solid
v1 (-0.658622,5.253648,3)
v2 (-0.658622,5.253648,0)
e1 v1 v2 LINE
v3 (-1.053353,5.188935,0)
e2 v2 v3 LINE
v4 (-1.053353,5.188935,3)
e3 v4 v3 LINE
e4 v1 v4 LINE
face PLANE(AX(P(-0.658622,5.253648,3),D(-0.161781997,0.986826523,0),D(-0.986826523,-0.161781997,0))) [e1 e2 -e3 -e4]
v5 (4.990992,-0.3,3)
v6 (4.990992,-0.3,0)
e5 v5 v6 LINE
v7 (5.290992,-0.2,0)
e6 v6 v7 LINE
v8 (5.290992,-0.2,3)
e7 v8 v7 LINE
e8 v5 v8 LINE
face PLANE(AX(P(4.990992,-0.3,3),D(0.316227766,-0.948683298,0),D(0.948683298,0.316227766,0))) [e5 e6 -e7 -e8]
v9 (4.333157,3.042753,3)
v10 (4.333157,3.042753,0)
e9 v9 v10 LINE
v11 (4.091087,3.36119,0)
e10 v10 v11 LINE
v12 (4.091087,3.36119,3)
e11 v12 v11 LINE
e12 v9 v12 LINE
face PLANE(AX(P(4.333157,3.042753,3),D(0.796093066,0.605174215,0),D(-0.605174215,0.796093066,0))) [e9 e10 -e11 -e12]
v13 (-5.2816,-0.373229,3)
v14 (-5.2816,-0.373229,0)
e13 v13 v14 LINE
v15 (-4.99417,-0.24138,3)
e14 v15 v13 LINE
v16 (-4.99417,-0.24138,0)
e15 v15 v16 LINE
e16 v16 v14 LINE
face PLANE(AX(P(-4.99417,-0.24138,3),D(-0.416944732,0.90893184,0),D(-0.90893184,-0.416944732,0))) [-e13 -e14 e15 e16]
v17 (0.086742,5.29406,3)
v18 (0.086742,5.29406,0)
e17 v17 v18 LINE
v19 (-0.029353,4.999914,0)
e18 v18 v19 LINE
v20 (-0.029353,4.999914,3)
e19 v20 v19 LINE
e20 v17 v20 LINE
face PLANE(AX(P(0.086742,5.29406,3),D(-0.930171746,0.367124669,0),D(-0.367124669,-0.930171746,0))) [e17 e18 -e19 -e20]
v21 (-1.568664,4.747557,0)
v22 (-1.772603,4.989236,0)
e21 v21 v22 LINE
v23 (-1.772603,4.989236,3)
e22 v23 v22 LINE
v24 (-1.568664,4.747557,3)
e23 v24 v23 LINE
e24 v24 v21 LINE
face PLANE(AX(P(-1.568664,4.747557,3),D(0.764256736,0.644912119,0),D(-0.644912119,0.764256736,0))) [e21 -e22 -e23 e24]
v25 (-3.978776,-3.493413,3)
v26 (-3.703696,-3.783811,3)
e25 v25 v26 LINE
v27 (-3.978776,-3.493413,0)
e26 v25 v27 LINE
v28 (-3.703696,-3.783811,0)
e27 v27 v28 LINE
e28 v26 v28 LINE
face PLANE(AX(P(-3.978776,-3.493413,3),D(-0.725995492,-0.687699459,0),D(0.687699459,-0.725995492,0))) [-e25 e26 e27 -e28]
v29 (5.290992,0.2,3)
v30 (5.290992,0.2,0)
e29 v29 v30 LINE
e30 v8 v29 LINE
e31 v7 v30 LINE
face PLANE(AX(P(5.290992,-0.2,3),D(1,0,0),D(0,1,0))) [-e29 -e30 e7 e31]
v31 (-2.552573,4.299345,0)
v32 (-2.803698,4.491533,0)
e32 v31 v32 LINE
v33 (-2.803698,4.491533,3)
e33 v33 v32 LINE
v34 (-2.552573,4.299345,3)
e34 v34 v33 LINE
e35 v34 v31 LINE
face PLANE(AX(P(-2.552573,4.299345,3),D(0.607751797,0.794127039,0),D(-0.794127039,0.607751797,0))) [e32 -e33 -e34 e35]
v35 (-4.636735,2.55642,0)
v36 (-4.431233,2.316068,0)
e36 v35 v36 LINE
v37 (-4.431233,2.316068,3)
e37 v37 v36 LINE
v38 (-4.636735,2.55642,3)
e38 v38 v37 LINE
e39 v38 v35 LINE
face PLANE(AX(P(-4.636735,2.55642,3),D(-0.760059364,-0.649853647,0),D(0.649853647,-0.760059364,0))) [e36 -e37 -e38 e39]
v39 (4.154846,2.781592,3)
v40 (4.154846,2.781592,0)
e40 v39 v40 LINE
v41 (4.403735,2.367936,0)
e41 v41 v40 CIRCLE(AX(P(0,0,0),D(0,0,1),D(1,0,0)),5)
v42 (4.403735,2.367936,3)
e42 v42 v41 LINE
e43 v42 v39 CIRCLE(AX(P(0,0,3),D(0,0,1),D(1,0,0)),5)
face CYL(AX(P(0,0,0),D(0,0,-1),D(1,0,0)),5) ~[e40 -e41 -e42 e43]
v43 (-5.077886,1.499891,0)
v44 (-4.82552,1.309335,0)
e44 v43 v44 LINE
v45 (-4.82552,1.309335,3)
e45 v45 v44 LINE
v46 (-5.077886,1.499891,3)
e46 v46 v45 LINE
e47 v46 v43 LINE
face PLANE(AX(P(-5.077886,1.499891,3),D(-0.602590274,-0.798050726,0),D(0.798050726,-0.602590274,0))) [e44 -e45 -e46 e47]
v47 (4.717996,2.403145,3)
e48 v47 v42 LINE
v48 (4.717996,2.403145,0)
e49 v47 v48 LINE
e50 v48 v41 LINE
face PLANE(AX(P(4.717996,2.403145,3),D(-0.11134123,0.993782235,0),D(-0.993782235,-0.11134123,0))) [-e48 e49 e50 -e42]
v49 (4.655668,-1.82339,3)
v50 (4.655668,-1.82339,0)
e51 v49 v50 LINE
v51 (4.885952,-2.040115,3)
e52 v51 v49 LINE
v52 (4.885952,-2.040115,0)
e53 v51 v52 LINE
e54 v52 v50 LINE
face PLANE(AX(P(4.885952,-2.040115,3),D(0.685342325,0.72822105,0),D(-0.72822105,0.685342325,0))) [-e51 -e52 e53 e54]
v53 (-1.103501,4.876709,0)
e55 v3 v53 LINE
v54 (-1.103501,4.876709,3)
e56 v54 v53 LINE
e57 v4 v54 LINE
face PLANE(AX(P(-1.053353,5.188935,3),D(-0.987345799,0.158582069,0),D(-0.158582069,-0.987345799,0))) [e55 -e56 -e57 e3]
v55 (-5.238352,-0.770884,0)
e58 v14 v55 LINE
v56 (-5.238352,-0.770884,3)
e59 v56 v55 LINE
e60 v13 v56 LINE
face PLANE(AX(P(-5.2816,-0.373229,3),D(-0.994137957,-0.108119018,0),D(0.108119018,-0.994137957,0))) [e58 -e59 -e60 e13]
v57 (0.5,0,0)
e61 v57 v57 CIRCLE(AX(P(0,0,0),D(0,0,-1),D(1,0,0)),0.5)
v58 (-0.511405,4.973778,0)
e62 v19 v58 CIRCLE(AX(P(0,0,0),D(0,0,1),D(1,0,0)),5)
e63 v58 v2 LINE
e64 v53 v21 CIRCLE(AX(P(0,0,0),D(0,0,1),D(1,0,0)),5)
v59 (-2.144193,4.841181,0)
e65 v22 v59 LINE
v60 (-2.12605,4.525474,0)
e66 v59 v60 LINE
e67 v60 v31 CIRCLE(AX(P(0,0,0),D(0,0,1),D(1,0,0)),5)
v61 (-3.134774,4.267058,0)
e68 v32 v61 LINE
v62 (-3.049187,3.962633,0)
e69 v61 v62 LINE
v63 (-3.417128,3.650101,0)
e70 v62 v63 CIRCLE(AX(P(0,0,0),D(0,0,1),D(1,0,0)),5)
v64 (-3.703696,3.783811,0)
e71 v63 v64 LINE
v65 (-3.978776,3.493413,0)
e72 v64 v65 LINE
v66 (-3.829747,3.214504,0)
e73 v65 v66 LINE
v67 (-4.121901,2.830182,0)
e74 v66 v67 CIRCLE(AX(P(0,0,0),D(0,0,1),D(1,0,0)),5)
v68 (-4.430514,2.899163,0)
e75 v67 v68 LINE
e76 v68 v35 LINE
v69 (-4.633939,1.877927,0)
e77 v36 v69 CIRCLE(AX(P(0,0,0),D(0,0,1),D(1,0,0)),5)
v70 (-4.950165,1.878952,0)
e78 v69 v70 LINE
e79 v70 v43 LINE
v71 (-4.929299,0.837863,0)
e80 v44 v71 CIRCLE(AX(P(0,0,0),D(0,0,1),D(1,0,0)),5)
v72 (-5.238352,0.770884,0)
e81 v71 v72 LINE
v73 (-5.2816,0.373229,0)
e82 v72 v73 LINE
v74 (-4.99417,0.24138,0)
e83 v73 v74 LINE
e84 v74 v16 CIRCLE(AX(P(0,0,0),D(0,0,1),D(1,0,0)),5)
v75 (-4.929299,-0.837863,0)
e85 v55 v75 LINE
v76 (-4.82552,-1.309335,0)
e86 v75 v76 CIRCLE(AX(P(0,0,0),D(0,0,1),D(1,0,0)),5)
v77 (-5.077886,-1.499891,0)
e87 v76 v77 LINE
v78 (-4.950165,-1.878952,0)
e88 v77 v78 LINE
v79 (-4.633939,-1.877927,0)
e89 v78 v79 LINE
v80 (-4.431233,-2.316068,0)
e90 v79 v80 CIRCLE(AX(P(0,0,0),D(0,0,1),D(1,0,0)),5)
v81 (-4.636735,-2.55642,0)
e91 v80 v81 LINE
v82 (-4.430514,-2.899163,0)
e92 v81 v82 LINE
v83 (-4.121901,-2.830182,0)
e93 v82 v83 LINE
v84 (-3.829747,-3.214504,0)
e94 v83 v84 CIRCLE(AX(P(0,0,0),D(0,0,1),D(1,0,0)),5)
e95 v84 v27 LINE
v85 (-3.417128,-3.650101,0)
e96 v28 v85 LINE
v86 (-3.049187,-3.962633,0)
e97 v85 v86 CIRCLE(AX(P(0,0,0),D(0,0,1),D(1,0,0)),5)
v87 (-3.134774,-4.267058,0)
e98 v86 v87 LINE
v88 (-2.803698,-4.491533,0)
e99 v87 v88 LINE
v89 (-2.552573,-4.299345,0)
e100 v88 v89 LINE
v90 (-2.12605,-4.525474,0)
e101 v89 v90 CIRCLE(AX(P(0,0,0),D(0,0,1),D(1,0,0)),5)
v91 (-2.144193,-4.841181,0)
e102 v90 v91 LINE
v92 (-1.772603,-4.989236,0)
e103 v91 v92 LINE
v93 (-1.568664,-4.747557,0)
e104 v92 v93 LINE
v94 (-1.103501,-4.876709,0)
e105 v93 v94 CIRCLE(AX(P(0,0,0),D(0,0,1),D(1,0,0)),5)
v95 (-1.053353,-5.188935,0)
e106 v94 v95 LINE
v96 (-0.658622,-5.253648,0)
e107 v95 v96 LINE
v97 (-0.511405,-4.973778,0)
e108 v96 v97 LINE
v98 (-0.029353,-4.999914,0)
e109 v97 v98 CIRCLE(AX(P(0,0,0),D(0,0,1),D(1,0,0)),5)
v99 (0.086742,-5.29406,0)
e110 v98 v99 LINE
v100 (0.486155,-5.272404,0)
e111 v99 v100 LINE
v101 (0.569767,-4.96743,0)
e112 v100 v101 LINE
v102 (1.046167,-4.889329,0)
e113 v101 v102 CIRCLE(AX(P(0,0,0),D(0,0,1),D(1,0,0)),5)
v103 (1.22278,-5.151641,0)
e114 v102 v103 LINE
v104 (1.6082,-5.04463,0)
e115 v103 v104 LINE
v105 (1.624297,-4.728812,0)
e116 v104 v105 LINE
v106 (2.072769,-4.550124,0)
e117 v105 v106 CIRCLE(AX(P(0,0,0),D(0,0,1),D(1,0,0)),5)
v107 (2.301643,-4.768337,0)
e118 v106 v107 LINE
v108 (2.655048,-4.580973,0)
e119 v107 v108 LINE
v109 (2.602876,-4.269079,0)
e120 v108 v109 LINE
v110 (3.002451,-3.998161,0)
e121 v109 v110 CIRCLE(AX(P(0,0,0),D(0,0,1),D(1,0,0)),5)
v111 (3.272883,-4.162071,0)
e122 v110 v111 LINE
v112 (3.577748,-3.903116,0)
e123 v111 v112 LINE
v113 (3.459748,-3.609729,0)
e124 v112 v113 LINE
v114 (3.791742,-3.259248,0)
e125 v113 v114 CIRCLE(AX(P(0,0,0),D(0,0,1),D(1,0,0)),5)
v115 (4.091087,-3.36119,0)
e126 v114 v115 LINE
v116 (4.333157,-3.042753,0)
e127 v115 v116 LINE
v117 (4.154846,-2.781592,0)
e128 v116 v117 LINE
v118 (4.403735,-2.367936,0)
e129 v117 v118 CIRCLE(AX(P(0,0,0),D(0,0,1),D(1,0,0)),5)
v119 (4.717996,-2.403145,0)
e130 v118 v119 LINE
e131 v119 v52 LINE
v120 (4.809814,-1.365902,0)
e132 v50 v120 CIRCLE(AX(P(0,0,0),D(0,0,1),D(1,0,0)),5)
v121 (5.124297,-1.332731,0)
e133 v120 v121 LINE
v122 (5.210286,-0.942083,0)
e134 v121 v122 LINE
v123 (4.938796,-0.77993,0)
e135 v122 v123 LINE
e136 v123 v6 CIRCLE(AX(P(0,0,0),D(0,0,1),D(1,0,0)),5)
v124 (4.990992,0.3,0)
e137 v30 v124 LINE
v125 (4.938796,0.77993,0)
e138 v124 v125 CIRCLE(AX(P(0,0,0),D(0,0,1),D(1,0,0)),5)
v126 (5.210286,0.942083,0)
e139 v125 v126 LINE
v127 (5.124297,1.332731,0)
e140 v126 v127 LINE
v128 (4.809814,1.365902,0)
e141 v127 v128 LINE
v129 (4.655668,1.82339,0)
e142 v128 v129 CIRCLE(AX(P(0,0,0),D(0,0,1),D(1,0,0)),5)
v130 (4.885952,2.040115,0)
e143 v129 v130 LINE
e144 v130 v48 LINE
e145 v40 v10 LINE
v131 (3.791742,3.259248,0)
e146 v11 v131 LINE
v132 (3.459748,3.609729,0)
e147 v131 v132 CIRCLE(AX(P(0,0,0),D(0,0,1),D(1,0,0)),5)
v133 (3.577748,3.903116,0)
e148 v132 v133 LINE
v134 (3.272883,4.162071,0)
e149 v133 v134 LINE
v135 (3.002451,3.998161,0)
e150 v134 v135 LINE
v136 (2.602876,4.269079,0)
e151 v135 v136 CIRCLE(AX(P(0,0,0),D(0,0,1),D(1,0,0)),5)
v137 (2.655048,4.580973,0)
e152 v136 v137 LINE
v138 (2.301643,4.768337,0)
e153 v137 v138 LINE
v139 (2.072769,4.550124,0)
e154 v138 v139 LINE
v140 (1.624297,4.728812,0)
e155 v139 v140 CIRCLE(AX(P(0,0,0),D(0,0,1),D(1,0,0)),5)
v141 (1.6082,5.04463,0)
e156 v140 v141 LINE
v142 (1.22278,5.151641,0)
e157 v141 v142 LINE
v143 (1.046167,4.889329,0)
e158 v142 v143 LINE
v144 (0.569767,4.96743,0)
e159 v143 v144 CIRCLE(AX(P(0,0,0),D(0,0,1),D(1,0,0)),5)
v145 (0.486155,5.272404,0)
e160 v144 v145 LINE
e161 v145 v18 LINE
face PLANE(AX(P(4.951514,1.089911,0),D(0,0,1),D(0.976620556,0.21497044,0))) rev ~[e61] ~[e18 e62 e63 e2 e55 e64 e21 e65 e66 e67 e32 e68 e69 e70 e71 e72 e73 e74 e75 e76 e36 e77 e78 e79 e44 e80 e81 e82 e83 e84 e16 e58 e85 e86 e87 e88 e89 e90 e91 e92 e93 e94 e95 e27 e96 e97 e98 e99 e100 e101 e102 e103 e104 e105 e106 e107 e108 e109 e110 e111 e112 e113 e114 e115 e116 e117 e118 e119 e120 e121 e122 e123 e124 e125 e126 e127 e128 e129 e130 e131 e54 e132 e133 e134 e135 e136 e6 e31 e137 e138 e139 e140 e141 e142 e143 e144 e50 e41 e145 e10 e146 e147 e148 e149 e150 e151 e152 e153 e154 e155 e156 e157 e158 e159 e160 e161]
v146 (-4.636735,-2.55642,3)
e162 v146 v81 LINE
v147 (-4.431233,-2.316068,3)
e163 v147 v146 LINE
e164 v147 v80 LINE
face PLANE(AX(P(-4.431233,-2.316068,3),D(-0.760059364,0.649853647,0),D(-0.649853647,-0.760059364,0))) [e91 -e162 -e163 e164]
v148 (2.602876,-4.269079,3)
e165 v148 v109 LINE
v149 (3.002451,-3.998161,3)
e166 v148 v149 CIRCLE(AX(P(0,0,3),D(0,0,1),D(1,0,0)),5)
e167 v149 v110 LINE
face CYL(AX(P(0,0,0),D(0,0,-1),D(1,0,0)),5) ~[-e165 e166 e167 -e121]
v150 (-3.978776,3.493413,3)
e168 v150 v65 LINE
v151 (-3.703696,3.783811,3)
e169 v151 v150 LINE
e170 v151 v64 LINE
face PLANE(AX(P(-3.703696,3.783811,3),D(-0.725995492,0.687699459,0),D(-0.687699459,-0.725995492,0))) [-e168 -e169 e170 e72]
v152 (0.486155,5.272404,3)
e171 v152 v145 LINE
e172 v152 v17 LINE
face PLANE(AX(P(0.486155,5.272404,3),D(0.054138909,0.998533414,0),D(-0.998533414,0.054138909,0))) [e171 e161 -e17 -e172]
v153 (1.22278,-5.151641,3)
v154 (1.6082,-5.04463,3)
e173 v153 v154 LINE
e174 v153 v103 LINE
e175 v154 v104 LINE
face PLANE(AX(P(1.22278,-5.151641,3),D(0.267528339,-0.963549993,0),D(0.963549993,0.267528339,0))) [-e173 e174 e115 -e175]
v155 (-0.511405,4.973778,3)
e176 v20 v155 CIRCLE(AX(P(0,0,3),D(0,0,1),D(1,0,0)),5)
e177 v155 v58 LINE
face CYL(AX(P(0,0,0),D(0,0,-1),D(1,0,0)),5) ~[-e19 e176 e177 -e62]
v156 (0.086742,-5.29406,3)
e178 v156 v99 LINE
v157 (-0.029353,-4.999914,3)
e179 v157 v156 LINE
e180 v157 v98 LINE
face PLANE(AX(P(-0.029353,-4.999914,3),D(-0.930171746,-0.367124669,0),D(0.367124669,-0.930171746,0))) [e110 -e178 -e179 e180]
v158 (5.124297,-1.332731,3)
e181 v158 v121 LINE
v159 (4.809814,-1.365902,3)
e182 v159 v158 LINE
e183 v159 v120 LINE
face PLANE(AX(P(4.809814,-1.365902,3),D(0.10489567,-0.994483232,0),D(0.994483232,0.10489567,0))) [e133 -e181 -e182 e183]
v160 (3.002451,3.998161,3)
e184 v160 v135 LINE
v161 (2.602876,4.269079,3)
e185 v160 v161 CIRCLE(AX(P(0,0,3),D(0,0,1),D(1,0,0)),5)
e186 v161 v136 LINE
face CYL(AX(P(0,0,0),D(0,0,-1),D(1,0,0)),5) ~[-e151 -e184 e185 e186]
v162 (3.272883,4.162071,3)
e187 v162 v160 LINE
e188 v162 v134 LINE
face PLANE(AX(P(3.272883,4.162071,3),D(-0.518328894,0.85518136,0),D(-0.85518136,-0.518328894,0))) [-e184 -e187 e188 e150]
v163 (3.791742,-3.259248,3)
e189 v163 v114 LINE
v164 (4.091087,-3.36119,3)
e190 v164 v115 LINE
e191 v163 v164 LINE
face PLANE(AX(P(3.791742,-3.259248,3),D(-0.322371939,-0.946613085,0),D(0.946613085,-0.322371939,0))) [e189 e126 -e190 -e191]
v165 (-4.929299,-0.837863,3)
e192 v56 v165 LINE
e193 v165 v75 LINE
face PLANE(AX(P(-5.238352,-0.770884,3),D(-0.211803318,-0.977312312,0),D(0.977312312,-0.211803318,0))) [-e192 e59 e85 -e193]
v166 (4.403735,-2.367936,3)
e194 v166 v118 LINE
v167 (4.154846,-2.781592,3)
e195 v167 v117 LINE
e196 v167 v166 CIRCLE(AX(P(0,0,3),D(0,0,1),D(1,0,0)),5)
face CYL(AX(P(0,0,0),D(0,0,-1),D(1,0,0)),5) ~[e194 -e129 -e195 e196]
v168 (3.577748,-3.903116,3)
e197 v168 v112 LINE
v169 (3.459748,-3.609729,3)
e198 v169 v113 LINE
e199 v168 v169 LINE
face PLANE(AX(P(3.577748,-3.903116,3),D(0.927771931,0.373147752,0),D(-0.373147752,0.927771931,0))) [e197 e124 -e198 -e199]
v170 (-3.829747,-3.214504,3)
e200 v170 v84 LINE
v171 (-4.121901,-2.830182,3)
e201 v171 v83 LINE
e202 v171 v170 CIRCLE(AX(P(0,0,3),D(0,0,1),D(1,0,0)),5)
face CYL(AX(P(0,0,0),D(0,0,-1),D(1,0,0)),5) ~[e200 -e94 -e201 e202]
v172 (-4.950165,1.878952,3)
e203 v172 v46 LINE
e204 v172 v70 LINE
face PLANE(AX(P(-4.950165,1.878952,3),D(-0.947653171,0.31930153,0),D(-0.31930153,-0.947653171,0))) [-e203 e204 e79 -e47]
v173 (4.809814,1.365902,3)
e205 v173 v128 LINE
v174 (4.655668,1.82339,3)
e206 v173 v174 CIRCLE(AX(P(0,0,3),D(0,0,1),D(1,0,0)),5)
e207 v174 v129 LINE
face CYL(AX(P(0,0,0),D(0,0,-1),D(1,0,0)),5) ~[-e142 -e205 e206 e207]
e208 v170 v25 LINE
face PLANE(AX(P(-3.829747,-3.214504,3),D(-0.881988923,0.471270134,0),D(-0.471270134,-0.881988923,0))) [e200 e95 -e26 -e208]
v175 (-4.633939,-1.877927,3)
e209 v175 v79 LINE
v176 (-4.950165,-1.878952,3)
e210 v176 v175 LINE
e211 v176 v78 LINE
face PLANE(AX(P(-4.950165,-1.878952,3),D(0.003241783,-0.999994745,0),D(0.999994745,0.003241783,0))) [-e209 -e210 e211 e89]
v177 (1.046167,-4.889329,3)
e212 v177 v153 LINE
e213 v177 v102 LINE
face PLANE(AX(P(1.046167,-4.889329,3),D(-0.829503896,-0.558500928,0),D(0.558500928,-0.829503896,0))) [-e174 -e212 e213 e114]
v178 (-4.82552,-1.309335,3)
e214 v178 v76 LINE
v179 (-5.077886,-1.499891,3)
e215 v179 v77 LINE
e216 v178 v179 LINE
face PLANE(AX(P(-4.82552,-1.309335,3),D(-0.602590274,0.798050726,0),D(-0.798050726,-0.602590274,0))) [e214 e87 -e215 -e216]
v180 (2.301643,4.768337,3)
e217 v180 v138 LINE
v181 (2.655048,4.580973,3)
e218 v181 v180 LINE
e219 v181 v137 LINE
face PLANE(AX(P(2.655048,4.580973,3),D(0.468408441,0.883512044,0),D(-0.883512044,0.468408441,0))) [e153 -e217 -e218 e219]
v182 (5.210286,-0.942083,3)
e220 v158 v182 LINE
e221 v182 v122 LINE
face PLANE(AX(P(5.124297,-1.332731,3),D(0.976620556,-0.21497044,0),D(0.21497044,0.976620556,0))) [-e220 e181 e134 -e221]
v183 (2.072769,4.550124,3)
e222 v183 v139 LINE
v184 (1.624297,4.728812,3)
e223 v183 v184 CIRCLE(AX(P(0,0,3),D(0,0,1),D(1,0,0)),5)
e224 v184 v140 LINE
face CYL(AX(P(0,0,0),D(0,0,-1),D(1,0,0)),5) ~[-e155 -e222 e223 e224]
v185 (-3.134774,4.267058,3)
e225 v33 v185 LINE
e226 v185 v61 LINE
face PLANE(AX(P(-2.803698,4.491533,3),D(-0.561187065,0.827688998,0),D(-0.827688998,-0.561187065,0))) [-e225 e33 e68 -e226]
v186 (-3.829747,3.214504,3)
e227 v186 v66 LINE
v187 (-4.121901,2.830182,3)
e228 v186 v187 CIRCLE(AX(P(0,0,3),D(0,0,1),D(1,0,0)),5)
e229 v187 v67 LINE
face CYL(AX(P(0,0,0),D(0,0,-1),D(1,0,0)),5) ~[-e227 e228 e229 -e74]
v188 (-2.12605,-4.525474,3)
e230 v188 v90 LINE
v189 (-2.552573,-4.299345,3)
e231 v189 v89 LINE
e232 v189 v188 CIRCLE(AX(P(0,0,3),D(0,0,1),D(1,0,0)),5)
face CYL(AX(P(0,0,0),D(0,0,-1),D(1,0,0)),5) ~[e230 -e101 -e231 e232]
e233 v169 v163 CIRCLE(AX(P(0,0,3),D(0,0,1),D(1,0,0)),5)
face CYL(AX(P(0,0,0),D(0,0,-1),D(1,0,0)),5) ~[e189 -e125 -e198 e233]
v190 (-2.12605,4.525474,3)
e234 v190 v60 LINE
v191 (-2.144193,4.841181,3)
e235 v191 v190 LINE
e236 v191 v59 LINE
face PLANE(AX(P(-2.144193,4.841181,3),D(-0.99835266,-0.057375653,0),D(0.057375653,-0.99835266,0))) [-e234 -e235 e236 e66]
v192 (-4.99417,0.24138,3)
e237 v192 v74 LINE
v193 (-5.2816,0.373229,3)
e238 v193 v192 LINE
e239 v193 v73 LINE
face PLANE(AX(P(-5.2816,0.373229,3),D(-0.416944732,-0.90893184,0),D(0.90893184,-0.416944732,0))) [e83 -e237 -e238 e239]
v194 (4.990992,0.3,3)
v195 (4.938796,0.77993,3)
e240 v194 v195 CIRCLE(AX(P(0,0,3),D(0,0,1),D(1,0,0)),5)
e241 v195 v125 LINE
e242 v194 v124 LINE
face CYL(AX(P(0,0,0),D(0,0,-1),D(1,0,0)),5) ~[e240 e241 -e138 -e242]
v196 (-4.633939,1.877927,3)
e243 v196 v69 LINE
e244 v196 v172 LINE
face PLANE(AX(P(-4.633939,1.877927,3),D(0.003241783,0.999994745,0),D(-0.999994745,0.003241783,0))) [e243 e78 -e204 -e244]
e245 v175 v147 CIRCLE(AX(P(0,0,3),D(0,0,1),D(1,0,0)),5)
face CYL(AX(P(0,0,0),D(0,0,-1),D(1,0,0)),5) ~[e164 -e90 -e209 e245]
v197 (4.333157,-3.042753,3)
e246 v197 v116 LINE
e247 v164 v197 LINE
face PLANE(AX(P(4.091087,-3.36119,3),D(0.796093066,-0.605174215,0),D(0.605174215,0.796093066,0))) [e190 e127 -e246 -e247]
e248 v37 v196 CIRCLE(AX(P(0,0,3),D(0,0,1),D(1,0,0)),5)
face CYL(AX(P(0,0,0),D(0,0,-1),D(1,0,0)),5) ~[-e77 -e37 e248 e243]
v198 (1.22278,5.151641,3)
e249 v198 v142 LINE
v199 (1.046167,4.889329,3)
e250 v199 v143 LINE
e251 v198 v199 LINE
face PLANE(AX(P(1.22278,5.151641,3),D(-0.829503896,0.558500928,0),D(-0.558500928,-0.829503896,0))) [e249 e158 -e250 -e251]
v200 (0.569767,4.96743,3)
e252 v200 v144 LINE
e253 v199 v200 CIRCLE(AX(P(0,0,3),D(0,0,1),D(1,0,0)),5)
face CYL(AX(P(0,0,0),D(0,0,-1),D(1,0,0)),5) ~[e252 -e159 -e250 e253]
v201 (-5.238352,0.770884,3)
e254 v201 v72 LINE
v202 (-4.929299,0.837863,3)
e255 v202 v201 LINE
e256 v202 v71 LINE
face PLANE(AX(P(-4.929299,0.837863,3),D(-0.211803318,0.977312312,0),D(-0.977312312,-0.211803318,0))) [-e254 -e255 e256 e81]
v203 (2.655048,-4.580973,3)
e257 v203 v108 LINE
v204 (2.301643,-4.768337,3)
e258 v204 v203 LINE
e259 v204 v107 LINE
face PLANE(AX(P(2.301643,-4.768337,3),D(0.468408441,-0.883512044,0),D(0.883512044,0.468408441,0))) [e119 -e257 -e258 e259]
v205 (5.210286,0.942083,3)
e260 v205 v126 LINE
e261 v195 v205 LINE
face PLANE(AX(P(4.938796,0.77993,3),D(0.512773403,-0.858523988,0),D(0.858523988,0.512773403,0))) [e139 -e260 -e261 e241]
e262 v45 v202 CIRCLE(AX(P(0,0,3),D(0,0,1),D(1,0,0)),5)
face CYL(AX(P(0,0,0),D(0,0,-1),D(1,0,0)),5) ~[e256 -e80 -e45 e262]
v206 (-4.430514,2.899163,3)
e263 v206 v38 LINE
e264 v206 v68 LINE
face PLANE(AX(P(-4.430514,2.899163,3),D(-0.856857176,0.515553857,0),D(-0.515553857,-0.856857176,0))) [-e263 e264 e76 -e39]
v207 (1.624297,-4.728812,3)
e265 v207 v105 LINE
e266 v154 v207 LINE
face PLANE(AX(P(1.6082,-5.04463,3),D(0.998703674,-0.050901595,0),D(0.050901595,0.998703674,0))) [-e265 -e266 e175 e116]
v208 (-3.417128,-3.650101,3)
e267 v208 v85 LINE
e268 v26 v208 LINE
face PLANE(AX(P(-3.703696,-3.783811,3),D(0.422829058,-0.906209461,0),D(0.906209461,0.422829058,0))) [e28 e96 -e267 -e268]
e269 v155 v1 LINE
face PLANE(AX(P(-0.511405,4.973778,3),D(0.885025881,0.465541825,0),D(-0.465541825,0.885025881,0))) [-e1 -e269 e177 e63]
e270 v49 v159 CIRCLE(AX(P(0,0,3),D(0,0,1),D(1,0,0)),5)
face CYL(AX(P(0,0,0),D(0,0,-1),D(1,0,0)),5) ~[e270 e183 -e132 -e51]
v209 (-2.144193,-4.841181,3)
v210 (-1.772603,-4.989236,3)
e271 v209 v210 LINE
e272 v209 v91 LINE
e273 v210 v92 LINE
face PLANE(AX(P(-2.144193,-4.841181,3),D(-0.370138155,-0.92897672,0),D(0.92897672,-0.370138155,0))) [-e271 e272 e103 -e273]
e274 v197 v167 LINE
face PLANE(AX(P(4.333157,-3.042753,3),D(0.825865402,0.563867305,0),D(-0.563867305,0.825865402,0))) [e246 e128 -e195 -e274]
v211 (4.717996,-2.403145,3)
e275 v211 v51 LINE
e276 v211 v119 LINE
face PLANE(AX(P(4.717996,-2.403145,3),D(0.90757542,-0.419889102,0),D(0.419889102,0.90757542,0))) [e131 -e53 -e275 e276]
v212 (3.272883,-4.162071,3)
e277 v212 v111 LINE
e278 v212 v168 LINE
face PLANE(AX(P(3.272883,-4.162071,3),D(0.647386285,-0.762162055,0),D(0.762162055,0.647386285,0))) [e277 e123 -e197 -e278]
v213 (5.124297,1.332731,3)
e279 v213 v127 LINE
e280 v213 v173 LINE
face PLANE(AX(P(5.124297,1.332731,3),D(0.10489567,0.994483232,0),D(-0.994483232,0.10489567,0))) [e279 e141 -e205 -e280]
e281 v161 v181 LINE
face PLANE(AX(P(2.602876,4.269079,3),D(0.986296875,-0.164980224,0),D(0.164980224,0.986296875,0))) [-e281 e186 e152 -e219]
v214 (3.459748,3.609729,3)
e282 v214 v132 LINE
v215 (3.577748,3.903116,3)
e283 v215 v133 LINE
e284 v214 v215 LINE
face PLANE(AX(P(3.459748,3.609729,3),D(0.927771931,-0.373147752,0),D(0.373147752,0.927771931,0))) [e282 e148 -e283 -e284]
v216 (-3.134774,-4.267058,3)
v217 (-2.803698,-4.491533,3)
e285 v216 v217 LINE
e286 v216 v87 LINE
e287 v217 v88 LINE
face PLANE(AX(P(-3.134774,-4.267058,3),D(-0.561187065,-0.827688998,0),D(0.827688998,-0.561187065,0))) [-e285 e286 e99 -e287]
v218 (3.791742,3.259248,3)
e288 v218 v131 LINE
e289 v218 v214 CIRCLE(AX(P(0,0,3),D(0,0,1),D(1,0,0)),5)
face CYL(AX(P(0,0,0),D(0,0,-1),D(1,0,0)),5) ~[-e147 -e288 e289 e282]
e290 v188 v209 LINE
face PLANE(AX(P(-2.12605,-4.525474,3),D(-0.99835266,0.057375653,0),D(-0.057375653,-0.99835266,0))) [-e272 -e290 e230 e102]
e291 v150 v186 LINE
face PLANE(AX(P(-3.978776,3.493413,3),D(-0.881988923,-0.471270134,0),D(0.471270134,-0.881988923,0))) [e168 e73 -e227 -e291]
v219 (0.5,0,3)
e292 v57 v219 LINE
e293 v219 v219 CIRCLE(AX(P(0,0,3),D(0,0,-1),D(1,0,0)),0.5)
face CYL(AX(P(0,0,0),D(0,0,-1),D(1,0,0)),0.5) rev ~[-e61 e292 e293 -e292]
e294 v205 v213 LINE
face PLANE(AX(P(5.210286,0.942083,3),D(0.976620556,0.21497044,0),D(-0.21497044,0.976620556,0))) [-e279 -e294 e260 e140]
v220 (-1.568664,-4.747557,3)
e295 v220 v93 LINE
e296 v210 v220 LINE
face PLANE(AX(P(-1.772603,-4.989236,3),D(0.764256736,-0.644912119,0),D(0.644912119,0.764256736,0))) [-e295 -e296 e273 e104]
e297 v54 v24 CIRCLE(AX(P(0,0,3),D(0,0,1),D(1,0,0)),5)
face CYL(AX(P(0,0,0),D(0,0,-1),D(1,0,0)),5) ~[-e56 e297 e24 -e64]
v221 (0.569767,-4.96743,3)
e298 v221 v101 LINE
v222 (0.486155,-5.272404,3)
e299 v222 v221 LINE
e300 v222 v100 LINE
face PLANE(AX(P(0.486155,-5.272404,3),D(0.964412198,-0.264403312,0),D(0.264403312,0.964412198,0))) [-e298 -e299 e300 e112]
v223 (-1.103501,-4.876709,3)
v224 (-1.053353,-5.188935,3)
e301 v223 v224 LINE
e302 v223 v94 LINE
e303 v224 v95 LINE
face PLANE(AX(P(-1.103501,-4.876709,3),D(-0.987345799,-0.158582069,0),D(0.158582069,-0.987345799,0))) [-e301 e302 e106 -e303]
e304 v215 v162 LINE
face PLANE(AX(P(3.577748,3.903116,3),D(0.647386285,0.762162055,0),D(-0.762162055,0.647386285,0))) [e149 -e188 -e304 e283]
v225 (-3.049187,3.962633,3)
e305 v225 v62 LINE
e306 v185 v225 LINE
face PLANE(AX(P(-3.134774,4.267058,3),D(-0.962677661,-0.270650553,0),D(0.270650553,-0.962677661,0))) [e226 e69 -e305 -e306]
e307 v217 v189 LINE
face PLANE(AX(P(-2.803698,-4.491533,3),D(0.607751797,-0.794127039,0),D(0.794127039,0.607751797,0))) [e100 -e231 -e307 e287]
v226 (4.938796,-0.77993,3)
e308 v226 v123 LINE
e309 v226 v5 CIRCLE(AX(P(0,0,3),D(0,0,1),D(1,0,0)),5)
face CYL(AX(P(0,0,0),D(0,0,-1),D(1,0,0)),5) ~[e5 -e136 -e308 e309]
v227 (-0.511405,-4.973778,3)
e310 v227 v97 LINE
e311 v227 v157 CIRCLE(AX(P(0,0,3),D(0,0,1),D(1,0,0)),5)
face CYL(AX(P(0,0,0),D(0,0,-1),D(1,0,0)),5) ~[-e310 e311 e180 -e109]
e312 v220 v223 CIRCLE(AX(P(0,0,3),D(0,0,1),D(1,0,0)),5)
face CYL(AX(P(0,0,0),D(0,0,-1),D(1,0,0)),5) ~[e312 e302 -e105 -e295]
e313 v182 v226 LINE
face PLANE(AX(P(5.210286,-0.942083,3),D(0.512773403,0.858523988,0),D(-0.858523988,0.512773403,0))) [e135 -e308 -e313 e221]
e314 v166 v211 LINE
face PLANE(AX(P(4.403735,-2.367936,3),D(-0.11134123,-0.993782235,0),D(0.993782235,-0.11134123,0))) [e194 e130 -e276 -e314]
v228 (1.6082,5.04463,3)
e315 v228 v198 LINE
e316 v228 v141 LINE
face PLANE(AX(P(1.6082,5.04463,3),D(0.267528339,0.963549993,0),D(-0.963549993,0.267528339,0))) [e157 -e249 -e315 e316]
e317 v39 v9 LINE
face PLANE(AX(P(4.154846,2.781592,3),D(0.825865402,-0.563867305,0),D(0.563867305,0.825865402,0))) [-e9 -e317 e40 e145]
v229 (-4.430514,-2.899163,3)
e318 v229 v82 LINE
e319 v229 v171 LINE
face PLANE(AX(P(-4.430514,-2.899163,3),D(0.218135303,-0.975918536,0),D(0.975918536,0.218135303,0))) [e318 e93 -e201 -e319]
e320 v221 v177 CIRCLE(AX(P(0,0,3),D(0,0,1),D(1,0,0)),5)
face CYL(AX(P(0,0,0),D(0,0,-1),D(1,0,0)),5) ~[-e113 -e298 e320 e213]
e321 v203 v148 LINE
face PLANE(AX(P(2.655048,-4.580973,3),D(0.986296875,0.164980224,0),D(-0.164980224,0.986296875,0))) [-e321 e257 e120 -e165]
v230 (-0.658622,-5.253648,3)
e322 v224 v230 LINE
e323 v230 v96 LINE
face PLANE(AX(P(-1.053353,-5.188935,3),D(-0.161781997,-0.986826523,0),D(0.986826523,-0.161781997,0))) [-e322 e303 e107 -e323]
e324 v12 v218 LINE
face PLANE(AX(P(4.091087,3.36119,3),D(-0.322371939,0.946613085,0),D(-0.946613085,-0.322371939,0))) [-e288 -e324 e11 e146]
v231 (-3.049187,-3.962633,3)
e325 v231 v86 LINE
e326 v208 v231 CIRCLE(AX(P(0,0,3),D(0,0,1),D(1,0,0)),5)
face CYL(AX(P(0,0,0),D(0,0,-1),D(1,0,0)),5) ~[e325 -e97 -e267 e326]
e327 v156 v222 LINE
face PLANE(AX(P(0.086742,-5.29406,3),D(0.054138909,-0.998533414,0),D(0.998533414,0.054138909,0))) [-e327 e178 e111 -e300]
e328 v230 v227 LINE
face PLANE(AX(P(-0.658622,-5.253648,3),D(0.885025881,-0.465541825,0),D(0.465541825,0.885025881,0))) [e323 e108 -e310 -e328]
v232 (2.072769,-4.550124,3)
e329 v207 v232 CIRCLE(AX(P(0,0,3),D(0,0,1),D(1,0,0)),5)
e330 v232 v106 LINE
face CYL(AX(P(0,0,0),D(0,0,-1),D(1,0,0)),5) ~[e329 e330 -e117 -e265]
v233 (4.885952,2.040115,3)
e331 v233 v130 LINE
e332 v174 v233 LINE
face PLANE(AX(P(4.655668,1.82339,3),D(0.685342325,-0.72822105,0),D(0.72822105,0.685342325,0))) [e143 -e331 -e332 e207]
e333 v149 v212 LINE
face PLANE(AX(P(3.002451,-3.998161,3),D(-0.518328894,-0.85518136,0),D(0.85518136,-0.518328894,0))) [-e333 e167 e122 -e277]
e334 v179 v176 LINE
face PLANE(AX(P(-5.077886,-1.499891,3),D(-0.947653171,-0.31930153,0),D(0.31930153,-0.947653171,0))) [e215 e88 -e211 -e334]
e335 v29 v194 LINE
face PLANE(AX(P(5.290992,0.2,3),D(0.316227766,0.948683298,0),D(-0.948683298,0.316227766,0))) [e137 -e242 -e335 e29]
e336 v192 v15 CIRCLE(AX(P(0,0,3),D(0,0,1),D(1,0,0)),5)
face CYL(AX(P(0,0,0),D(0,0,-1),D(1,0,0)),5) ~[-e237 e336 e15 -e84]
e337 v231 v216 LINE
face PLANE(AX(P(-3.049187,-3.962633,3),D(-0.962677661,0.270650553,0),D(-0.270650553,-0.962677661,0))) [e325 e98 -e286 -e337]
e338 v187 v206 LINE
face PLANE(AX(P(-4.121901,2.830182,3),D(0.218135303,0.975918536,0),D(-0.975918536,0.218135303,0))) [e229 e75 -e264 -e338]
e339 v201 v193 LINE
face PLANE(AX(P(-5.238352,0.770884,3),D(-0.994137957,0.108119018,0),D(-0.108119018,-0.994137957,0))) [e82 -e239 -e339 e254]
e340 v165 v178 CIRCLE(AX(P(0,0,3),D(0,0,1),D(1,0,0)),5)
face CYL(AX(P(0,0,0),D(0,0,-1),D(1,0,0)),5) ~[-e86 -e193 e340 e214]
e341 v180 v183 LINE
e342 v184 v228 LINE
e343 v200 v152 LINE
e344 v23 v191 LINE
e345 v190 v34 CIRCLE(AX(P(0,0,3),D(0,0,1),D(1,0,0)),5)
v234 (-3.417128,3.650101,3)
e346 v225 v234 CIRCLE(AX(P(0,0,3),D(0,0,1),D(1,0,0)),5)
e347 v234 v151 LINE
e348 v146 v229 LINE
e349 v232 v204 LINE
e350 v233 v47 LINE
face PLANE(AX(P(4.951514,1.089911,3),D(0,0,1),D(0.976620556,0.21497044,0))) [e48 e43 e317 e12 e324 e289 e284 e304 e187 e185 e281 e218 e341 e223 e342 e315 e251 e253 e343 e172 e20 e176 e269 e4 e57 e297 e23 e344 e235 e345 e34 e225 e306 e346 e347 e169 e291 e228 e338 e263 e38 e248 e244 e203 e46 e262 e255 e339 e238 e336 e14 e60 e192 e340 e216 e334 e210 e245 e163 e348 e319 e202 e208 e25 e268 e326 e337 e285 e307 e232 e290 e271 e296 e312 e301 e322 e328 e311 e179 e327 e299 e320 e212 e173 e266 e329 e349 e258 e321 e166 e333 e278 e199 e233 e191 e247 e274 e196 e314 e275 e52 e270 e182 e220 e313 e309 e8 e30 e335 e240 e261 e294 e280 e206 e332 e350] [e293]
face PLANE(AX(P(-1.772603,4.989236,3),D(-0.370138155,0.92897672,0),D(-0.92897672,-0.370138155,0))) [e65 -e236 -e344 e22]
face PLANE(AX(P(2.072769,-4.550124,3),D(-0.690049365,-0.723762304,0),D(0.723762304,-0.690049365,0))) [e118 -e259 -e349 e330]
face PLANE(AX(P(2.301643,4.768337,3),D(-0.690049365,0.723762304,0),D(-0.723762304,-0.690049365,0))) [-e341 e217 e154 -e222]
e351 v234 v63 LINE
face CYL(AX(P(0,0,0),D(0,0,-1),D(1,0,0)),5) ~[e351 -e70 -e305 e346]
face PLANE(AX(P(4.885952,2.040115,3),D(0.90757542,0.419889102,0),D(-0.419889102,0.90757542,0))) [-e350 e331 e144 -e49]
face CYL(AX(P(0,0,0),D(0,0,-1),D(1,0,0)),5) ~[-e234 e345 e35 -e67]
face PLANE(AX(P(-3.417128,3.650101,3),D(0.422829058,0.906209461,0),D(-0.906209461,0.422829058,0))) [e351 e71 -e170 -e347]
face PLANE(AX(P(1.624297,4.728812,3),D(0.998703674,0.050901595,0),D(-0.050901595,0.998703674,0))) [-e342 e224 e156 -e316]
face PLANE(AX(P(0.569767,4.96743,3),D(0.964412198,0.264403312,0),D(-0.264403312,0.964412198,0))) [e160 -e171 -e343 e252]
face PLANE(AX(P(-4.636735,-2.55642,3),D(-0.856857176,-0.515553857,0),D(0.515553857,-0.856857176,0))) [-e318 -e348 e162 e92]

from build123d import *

# Parameters (mm, degrees)
F3_R      = 5
F4_DEPTH  = 3
F8_DEPTH  = 3
F9_COUNT  = 29
F10_R     = 0.5
F11_DEPTH = 3


with BuildPart() as f4:
    # F3 (on Top) → F4 (new body)
    with BuildSketch(Plane.XY):
        Circle(F3_R)
    extrude(amount=F4_DEPTH)

    # F5 (on face) → F8 (join)
    with BuildSketch(Plane.XY.offset(3)):
        Polygon((5.2909918854, -0.2), (5.2909918854, 0.2), (4.9909918854, 0.3), (4.8909918854, 0.3), (4.8909918854, -0.3), (4.9909918854, -0.3), align=None)
    extrude(amount=-F8_DEPTH)

    # F9: F4 ×29 about axis
    f9_axis = Axis((0, 0, 0), (0, 0, -1))


with BuildPart() as f4_1:
    add(f4.part)
    for i in range(1, F9_COUNT):
        add(f4.part.rotate(f9_axis, i * 360 / F9_COUNT))

    # F10 (on face) → F11 (cut, through all)
    with BuildSketch(Plane(origin=(0, 0, 0), x_dir=(1, 0, 0), z_dir=(0, 0, -1))):
        Circle(F10_R)
    extrude(amount=-F11_DEPTH, mode=Mode.SUBTRACT)


solid = f4_1.part
